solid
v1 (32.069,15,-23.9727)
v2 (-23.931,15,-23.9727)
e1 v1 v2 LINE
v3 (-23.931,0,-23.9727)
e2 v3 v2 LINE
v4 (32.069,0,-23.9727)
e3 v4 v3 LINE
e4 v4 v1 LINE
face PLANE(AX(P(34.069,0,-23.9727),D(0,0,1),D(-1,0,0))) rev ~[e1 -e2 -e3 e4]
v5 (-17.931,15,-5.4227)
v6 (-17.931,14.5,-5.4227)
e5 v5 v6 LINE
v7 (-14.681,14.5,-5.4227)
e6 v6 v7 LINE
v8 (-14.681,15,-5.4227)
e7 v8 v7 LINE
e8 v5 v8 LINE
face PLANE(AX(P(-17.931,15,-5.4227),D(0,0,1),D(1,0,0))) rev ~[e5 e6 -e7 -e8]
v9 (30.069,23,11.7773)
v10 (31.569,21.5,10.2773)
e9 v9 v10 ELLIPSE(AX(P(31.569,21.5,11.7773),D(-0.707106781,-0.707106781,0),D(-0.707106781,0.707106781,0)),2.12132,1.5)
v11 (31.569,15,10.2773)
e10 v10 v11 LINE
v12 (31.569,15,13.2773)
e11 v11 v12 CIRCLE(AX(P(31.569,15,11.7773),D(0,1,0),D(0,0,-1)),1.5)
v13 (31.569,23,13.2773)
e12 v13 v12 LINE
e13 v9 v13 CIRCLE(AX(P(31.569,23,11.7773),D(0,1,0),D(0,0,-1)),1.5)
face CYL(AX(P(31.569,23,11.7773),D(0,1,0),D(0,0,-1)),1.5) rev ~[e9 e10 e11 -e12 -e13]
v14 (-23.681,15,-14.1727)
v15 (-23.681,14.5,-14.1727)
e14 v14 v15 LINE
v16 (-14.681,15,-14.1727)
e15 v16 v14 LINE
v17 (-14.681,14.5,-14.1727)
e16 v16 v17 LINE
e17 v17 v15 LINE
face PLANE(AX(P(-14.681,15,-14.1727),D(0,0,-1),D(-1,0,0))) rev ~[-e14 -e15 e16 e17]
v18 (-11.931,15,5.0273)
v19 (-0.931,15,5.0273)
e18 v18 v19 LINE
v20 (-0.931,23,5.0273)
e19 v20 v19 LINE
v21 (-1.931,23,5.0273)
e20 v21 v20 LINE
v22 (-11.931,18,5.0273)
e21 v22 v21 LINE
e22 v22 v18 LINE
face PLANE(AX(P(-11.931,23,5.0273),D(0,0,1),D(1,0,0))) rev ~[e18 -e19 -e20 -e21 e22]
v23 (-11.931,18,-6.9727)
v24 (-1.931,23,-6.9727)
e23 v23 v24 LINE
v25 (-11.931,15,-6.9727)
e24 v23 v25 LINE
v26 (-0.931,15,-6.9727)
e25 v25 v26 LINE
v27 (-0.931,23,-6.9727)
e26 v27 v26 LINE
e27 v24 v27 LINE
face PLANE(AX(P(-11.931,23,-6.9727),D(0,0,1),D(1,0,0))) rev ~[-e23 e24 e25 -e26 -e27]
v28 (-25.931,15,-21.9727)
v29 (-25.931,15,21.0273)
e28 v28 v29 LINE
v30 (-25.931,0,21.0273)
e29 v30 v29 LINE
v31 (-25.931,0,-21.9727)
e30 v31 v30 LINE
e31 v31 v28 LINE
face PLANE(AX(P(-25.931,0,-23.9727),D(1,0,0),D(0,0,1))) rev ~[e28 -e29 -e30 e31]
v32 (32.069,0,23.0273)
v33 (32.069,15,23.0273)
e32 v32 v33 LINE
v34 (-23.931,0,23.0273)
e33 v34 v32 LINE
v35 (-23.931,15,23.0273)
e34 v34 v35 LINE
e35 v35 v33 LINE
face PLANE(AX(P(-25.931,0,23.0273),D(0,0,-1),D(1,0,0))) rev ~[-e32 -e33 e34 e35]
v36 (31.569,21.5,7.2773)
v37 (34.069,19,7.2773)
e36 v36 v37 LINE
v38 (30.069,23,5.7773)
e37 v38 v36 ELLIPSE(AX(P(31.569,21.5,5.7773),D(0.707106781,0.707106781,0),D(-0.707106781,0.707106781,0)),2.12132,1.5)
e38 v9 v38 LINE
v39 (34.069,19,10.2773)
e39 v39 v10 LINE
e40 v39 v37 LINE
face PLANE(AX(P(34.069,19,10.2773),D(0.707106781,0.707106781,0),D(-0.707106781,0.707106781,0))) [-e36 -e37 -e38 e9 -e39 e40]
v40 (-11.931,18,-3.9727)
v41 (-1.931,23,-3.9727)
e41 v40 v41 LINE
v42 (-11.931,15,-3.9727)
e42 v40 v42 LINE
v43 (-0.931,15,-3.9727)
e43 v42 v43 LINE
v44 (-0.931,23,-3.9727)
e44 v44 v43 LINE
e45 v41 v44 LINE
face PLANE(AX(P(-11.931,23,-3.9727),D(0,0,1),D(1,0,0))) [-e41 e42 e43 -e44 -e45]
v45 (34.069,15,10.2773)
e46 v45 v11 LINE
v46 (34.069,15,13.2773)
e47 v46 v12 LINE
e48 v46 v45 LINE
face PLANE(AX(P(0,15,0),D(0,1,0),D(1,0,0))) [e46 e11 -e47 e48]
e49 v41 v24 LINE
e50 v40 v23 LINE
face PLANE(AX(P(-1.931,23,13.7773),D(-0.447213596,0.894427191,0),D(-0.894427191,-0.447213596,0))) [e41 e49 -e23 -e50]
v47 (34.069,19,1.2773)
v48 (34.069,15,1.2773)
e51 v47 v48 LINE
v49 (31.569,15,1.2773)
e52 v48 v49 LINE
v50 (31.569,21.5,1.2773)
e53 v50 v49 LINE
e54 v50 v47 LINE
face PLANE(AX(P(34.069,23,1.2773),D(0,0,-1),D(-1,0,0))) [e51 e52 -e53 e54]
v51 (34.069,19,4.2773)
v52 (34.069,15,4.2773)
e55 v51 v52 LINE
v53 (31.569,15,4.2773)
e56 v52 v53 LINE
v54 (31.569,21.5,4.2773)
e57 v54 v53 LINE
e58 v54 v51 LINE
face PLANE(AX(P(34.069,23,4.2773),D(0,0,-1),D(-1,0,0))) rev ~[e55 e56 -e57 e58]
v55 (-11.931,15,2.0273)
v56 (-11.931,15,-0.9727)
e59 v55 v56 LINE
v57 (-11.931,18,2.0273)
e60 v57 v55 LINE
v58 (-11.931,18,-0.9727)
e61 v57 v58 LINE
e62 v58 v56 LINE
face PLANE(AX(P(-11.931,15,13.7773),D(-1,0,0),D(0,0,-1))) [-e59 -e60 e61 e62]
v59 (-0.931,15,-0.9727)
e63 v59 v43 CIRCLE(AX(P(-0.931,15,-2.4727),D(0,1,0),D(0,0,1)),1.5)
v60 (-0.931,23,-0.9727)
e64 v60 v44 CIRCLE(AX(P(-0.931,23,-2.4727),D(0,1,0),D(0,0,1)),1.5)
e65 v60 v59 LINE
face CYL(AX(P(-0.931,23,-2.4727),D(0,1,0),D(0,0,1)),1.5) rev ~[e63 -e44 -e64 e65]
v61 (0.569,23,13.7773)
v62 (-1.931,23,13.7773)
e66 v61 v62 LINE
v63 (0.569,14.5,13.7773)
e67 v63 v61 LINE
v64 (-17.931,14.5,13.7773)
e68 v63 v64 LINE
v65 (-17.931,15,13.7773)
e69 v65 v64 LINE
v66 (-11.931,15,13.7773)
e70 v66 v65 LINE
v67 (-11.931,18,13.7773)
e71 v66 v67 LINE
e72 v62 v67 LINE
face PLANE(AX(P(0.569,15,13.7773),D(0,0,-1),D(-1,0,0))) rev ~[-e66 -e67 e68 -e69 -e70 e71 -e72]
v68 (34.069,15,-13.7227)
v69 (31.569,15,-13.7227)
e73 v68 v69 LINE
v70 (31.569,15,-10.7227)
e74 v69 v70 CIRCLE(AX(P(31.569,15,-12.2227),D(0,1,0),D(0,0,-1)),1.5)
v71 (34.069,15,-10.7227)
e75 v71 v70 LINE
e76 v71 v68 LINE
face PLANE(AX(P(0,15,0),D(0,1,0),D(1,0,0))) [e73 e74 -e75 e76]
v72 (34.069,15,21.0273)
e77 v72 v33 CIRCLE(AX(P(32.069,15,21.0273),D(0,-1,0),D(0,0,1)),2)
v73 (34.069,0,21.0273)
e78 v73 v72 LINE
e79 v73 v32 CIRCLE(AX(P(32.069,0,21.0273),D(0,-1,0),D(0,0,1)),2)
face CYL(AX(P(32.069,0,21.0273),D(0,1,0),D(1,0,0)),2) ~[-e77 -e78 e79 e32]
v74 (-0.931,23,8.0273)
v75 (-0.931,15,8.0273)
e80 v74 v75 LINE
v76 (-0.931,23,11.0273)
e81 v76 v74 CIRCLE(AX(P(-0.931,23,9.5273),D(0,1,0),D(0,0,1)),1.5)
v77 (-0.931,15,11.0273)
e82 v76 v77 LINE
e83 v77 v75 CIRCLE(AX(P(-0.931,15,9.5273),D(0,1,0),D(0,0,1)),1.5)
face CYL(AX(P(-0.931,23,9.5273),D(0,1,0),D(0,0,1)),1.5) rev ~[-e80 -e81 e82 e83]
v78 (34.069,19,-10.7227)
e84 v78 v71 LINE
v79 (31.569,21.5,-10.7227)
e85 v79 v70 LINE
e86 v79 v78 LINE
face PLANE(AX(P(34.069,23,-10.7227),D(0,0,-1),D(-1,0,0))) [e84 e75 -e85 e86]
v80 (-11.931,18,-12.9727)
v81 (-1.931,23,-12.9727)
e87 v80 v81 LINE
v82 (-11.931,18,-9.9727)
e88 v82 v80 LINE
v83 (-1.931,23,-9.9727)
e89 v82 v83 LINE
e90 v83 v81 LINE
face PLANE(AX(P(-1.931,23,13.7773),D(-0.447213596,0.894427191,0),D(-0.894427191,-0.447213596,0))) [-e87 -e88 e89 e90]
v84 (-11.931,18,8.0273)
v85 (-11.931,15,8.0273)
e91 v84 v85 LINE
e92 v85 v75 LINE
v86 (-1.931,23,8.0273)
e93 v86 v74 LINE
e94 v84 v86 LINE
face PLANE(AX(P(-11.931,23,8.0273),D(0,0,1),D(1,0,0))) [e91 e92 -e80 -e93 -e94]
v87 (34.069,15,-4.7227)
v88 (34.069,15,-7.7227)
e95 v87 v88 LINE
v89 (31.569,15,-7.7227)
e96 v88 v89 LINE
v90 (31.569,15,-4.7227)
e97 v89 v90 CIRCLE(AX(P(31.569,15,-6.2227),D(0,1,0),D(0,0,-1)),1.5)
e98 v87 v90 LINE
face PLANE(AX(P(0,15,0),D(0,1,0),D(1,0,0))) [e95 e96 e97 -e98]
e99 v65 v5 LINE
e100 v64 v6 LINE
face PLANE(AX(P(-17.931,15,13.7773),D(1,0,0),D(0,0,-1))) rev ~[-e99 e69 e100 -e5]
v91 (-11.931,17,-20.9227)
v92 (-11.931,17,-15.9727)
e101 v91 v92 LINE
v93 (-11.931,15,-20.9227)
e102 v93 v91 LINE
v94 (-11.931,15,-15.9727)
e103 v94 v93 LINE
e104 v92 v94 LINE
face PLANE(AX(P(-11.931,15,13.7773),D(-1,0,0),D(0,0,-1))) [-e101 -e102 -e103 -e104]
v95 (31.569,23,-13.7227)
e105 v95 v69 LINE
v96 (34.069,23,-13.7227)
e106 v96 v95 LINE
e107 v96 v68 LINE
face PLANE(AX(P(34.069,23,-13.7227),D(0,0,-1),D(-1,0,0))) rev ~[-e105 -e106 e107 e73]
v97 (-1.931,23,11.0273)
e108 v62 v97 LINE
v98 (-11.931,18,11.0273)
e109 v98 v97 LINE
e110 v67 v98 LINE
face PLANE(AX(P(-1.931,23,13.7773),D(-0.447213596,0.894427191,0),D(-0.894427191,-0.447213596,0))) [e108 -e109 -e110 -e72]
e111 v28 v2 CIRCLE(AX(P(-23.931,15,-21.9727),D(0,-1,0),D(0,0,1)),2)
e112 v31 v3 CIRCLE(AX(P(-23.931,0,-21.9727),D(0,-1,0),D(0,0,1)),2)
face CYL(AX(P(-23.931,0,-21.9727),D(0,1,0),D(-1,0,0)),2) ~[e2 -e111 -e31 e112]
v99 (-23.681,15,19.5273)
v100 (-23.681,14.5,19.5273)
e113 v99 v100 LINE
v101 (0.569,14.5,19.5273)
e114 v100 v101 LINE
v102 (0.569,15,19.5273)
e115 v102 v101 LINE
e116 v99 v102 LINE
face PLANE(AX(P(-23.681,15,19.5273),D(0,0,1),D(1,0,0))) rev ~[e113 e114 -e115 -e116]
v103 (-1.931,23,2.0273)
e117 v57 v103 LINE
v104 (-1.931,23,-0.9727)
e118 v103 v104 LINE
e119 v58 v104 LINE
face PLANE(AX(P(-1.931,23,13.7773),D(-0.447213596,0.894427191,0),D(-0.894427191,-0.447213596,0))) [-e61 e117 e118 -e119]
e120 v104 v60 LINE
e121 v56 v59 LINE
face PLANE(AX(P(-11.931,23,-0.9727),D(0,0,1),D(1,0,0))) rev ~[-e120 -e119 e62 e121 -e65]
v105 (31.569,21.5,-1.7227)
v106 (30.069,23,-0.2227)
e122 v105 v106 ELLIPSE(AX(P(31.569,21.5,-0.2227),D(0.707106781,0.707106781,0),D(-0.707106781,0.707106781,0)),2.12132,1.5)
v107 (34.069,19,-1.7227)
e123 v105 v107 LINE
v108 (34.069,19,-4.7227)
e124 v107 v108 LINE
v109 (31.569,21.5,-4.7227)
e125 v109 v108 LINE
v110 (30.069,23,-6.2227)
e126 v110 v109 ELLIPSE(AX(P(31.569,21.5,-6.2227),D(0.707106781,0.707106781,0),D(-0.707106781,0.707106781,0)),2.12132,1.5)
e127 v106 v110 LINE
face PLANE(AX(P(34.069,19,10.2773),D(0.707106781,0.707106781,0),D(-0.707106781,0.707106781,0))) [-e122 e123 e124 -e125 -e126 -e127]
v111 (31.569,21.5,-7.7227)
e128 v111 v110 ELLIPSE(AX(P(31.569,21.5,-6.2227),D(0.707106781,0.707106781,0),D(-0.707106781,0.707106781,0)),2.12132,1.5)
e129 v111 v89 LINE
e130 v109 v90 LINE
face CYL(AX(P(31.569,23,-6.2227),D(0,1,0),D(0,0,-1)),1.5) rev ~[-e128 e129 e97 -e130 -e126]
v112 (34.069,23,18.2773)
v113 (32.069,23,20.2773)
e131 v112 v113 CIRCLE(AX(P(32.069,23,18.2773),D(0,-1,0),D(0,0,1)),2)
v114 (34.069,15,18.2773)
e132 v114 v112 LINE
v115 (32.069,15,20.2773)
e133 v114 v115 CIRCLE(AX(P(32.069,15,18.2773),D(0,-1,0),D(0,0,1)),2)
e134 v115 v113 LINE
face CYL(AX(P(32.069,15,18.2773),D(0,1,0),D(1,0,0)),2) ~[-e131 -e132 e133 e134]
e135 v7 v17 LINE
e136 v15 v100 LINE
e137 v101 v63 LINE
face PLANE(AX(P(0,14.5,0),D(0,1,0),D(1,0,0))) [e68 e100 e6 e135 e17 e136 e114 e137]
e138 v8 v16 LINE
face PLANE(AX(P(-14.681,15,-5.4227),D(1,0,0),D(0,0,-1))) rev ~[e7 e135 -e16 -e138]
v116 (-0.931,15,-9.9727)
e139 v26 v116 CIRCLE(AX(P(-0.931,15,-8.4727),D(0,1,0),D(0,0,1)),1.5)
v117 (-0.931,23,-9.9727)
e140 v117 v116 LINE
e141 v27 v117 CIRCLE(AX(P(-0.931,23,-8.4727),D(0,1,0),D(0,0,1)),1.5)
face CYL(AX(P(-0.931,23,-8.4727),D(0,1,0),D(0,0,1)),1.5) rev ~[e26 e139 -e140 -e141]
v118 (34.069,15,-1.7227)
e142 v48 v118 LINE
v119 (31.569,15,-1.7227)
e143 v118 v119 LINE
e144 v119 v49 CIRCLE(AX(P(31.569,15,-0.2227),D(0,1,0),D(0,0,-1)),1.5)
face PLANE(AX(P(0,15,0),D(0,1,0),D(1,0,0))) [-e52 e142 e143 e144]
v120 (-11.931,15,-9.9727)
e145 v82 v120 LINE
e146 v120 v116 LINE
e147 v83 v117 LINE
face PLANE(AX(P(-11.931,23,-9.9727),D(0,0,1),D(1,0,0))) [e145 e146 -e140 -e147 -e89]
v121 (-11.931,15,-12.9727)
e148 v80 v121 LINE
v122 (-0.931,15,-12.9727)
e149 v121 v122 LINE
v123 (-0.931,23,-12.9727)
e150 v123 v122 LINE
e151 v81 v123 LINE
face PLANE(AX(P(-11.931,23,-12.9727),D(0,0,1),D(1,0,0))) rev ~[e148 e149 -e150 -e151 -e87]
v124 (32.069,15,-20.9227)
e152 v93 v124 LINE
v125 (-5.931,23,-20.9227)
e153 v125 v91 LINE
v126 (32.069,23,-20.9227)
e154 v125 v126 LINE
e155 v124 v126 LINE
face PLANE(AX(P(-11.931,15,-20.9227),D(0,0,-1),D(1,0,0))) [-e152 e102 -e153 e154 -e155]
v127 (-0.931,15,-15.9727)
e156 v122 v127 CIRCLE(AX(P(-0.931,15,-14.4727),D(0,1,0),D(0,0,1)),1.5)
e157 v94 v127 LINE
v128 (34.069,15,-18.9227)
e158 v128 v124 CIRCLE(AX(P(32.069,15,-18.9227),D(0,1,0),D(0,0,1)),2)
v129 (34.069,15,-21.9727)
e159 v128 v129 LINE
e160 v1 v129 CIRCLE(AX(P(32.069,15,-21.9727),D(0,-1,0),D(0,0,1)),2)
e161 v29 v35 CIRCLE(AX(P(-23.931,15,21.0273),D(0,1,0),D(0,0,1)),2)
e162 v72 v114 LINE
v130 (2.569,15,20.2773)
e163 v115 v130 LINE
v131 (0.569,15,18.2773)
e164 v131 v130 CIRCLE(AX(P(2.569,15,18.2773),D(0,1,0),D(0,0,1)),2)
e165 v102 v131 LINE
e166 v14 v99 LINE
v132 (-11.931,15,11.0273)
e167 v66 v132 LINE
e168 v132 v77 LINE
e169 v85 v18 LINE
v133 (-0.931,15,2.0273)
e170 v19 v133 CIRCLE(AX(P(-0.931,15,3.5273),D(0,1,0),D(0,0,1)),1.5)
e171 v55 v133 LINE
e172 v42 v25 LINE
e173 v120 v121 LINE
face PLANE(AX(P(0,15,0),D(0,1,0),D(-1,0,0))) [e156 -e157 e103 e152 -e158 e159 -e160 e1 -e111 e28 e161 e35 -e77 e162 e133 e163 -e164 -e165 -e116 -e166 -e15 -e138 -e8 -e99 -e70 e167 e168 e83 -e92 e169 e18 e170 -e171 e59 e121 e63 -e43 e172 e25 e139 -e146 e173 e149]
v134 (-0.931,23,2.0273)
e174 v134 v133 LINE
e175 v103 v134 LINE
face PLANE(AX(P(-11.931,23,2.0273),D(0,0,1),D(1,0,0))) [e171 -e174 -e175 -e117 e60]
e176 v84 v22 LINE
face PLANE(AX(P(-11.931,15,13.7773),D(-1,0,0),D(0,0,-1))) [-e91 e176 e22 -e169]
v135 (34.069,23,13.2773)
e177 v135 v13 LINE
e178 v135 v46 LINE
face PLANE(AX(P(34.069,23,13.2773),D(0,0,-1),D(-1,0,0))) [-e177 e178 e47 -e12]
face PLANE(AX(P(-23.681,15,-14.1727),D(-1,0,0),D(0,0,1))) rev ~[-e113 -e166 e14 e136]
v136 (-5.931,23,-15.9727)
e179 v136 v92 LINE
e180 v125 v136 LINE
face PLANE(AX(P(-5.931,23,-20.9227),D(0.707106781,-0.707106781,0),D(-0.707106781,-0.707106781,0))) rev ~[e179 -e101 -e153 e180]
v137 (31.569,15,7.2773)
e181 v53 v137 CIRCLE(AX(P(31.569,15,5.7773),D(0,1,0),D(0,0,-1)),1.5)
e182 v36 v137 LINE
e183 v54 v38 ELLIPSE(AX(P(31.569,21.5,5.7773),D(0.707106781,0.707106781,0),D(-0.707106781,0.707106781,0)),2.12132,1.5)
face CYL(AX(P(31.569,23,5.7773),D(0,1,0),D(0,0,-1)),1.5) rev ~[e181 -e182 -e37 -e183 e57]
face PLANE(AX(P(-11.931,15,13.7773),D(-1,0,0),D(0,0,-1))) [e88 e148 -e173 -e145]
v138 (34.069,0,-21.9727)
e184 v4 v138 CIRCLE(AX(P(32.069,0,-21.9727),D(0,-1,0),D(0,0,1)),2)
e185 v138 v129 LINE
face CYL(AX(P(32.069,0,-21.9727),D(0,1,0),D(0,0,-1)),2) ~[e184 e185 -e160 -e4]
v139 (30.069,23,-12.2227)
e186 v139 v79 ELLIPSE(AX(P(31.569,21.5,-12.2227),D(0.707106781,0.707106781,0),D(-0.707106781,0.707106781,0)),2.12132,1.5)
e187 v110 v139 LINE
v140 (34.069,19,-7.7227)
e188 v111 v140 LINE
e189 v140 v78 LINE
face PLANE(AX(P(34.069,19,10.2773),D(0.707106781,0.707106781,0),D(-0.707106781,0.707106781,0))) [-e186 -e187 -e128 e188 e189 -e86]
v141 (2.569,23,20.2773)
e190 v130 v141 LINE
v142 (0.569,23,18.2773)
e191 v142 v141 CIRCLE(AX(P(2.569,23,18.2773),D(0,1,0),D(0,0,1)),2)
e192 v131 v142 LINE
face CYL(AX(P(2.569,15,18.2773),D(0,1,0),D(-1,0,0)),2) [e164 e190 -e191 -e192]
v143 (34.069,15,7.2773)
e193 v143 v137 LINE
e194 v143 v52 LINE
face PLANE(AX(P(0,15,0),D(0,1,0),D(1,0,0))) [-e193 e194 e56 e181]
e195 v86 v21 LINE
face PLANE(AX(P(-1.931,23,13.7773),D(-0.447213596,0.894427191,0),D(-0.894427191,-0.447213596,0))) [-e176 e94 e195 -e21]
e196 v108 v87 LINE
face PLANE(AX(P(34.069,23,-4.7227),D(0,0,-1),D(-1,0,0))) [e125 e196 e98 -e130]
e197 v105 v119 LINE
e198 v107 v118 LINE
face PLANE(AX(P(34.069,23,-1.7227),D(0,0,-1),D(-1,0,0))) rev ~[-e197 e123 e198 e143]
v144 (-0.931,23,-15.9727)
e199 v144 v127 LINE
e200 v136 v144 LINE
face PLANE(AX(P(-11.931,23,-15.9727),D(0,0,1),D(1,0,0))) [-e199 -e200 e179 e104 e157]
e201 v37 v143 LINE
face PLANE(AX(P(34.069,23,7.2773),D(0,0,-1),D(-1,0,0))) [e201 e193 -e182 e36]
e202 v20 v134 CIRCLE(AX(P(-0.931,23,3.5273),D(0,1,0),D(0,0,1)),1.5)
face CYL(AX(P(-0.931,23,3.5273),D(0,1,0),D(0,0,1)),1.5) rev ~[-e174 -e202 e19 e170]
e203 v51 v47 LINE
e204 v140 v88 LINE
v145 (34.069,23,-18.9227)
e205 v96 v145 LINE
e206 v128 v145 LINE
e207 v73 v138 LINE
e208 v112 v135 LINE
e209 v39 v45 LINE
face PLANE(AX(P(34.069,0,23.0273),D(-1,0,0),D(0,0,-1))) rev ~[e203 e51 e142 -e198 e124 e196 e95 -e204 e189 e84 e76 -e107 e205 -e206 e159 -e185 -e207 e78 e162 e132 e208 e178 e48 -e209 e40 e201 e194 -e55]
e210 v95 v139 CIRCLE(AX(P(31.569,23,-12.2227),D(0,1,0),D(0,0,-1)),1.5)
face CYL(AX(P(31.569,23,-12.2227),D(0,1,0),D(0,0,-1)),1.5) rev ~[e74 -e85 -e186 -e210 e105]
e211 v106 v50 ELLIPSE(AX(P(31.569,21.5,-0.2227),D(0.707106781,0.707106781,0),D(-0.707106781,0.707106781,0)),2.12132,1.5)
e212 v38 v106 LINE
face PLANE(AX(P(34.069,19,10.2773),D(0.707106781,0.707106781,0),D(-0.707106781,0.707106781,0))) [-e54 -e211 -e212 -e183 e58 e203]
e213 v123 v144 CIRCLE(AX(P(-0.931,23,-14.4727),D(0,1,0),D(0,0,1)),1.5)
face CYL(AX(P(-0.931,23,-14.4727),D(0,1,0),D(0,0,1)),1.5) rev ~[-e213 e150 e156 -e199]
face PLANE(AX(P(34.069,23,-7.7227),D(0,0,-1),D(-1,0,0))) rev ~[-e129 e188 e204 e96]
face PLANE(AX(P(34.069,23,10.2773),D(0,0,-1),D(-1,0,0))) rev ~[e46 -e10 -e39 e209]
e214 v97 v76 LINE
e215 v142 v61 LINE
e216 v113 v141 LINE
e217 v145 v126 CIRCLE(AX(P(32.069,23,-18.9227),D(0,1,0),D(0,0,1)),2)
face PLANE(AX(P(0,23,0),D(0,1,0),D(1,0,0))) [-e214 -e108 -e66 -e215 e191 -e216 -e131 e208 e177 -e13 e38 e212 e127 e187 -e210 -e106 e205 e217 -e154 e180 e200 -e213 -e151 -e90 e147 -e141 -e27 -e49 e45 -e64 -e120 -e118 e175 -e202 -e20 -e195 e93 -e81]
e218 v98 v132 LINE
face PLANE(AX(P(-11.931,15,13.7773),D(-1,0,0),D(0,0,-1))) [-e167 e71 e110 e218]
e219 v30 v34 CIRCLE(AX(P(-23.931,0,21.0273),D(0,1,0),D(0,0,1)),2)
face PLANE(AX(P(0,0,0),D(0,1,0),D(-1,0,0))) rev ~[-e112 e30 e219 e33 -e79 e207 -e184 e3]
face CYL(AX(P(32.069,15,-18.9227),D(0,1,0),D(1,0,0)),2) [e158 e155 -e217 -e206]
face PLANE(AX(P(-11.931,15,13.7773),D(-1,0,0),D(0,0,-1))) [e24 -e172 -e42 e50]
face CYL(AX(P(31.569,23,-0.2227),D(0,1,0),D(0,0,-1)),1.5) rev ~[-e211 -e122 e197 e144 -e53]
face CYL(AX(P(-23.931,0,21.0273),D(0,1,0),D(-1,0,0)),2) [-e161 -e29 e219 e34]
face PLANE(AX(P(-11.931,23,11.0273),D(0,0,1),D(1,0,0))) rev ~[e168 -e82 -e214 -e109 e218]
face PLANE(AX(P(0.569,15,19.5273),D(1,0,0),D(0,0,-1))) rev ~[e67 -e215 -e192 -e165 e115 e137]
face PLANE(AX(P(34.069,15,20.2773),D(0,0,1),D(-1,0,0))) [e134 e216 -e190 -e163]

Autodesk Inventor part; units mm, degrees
ref_plane "YZ Plane" through (0, 0, 0) normal (1, 0, 0) x (0, 1, 0)
ref_plane "XZ Plane" through (0, 0, 0) normal (0, 1, 0) x (-1, 0, 0)
ref_plane "XY Plane" through (0, 0, 0) normal (0, 0, 1) x (1, 0, 0)
sketch "Sketch1" plane through (0, 0, 0) normal (0, 1, 0) x (-1, 0, 0)
  line L0 (25.931, 23.0273) -> (-34.069, 23.0273)
  line L1 (-34.069, 23.0273) -> (-34.069, -23.9727)
  line L2 (-34.069, -23.9727) -> (25.931, -23.9727)
  line L3 (25.931, -23.9727) -> (25.931, 23.0273)
  point P0 (0, 0)
  dimension "d0" = 47
  dimension "d1" = 60
extrude "Extrusion1" add sketch "Sketch1" along normal blind 15
fillet "Fillet1" radius 2 4 edges at (34.069, 7.5, 23.0273) (34.069, 7.5, -23.9727) (-25.931, 7.5, 23.0273) (-25.931, 7.5, -23.9727)
sketch "Sketch2" plane through (0, 15, 0) normal (0, 1, 0) x (1, 0, 0)
  arc A0 (34.069, 21.9727) -> (32.069, 23.9727) centre (32.069, 21.9727) ccw projected
  line L0 (34.069, -20.2773) -> (0.569, -20.2773)
  line L1 (0.569, -20.2773) -> (0.569, -13.7773)
  line L2 (0.569, -13.7773) -> (-11.931, -13.7773)
  line L3 (-11.931, -13.7773) -> (-11.931, 20.9227)
  line L4 (34.069, -20.2773) -> (34.069, 20.9227)
  line L5 (34.069, -21.0273) -> (34.069, 21.9727) projected
  line L6 (-11.931, 20.9227) -> (34.069, 20.9227)
  line L7 (-23.931, -23.0273) -> (32.069, -23.0273) projected
  point P0 (0, 0)
  dimension "d5" = 33.5
  dimension "d6" = 41.2
  dimension "d7" = 2.75
  dimension "d8" = 6.5
  dimension "d9" = 46
extrude "Extrusion2" add sketch "Sketch2" along normal blind 8
fillet "Fillet2" radius 2 3 edges at (34.069, 19, -20.9227) (34.069, 19, 20.2773) (0.569, 19, 20.2773)
sketch "Sketch3" plane through (-11.931, 15, 13.7773) normal (0, 0, 1) x (1, 0, 0)
  line L0 (44, 8) -> (0, 8) projected
  line L1 (10, 8) -> (0, 8)
  line L2 (0, 0) -> (0, 8) projected
  line L3 (10, 8) -> (0, 3)
  line L4 (0, 0) -> (0, 8) projected
  line L5 (-12, 0) -> (44, 0) projected
  point P0 (11.931, -15)
  dimension "d13" = 10
  dimension "d14" = 3
extrude "Extrusion3" cut sketch "Sketch3" against normal blind 27
sketch "Sketch4" plane through (-11.931, 15, -20.9227) normal (0, 0, -1) x (-1, 0, 0)
  line L0 (-44, 8) -> (0, 8) projected
  line L1 (-6, 8) -> (0, 2)
  line L2 (0, 0) -> (0, 8) projected
  point P0 (-11.931, -15)
  dimension "d17" = 6
  dimension "d18" = 6
extrude "Extrusion4" cut sketch "Sketch4" against normal blind 5
sketch "Sketch5" plane through (0, 23, 0) normal (0, 1, 0) x (1, 0, 0)
  line L0 (-11.931, -13.7773) -> (-11.931, 13.2227) projected
  line L1 (-11.931, -11.0273) -> (-0.931, -11.0273)
  line L2 (-11.931, -8.0273) -> (-0.931, -8.0273)
  arc A0 (-0.931, -11.0273) -> (-0.931, -8.0273) centre (-0.931, -9.5273) ccw
  line L3 (-1.931, -13.7773) -> (-11.931, -13.7773) projected
  line L4 (-11.931, -2.0273) -> (-0.931, -2.0273)
  arc A1 (-0.931, -5.0273) -> (-0.931, -2.0273) centre (-0.931, -3.5273) ccw
  line L5 (-11.931, -5.0273) -> (-0.931, -5.0273)
  line L6 (-11.931, 3.9727) -> (-0.931, 3.9727)
  arc A2 (-0.931, 0.9727) -> (-0.931, 3.9727) centre (-0.931, 2.4727) ccw
  line L7 (-11.931, 0.9727) -> (-0.931, 0.9727)
  line L8 (-11.931, 9.9727) -> (-0.931, 9.9727)
  arc A3 (-0.931, 6.9727) -> (-0.931, 9.9727) centre (-0.931, 8.4727) ccw
  line L9 (-11.931, 6.9727) -> (-0.931, 6.9727)
  line L10 (-11.931, 15.9727) -> (-0.931, 15.9727)
  arc A4 (-0.931, 12.9727) -> (-0.931, 15.9727) centre (-0.931, 14.4727) ccw
  line L11 (-11.931, 12.9727) -> (-0.931, 12.9727)
  line L12 (-11.931, 15.9227) -> (-11.931, 13.2227) projected
  line L13 (-11.931, 15.9727) -> (-11.931, 12.9727)
  point P0 (0, 0)
  dimension "d21" = 3
  dimension "d22" = 1.5
  dimension "d23" = 2.75
  dimension "d24" = 11
  dimension "d27" = 6
extrude "Extrusion5" cut sketch "Sketch5" against normal blind 8
sketch "Sketch6" plane through (0, 23, 0) normal (0, 1, 0) x (1, 0, 0)
  line L0 (34.069, -18.2773) -> (34.069, 18.9227) projected
  line L1 (34.069, -13.2773) -> (31.569, -13.2773)
  line L2 (34.069, -10.2773) -> (31.569, -10.2773)
  arc A0 (31.569, -10.2773) -> (31.569, -13.2773) centre (31.569, -11.7773) ccw
  line L3 (2.569, -20.2773) -> (32.069, -20.2773) projected
  line L4 (34.069, -4.2773) -> (31.569, -4.2773)
  arc A1 (31.569, -4.2773) -> (31.569, -7.2773) centre (31.569, -5.7773) ccw
  line L5 (34.069, -7.2773) -> (31.569, -7.2773)
  line L6 (34.069, 1.7227) -> (31.569, 1.7227)
  arc A2 (31.569, 1.7227) -> (31.569, -1.2773) centre (31.569, 0.2227) ccw
  line L7 (34.069, -1.2773) -> (31.569, -1.2773)
  line L8 (34.069, 7.7227) -> (31.569, 7.7227)
  arc A3 (31.569, 7.7227) -> (31.569, 4.7227) centre (31.569, 6.2227) ccw
  line L9 (34.069, 4.7227) -> (31.569, 4.7227)
  line L10 (34.069, 13.7227) -> (31.569, 13.7227)
  arc A4 (31.569, 13.7227) -> (31.569, 10.7227) centre (31.569, 12.2227) ccw
  line L11 (34.069, 10.7227) -> (31.569, 10.7227)
  point P0 (0, 0)
  dimension "d35" = 1.5
  dimension "d36" = 3
  dimension "d37" = 2.5
  dimension "d38" = 7
  dimension "d41" = 6
extrude "Extrusion6" cut sketch "Sketch6" against normal blind 8
sketch "Sketch7" plane through (31.569, 23, 10.2773) normal (0, 0, 1) x (1, 0, 0)
  line L0 (-1.5, 0) -> (0, 0) projected
  line L1 (2.5, -8) -> (2.5, 0) projected
  line L2 (2.5, 0) -> (0, 0) projected
  line L3 (2.5, -4) -> (-1.5, 0)
  point P0 (-31.569, -23)
  dimension "d52" = 4
  dimension "d53" = 4
extrude "Extrusion7" cut sketch "Sketch7" against normal blind 22.5
extrude "Extrusion8" cut sketch "Sketch7" along normal blind 1.5
sketch "Sketch9" plane through (0, 15, 0) normal (0, 1, 0) x (1, 0, 0)
  line L0 (-14.681, 14.1727) -> (-23.681, 14.1727)
  line L1 (-23.681, 14.1727) -> (-23.681, -19.5273)
  line L2 (-23.681, -19.5273) -> (0.569, -19.5273)
  line L3 (0.569, -19.5273) -> (0.569, -13.7773)
  line L4 (0.569, -13.7773) -> (-17.931, -13.7773)
  line L5 (-17.931, -13.7773) -> (-17.931, 5.4227)
  line L6 (-17.931, 5.4227) -> (-14.681, 5.4227)
  line L7 (-14.681, 5.4227) -> (-14.681, 14.1727)
  line L8 (-25.931, 21.9727) -> (-25.931, -21.0273) projected
  line L9 (-23.931, -23.0273) -> (32.069, -23.0273) projected
  point P0 (0, 0)
  dimension "d58" = 9
  dimension "d59" = 5.75
  dimension "d60" = 24.25
  dimension "d61" = 33.7
  dimension "d62" = 8.75
  dimension "d63" = 2.25
  dimension "d64" = 3.5
  dimension "d65" = 5.75
extrude "Extrusion9" cut sketch "Sketch9" against normal blind 0.5
properties part number "Motor-controlling" material "Steel"
